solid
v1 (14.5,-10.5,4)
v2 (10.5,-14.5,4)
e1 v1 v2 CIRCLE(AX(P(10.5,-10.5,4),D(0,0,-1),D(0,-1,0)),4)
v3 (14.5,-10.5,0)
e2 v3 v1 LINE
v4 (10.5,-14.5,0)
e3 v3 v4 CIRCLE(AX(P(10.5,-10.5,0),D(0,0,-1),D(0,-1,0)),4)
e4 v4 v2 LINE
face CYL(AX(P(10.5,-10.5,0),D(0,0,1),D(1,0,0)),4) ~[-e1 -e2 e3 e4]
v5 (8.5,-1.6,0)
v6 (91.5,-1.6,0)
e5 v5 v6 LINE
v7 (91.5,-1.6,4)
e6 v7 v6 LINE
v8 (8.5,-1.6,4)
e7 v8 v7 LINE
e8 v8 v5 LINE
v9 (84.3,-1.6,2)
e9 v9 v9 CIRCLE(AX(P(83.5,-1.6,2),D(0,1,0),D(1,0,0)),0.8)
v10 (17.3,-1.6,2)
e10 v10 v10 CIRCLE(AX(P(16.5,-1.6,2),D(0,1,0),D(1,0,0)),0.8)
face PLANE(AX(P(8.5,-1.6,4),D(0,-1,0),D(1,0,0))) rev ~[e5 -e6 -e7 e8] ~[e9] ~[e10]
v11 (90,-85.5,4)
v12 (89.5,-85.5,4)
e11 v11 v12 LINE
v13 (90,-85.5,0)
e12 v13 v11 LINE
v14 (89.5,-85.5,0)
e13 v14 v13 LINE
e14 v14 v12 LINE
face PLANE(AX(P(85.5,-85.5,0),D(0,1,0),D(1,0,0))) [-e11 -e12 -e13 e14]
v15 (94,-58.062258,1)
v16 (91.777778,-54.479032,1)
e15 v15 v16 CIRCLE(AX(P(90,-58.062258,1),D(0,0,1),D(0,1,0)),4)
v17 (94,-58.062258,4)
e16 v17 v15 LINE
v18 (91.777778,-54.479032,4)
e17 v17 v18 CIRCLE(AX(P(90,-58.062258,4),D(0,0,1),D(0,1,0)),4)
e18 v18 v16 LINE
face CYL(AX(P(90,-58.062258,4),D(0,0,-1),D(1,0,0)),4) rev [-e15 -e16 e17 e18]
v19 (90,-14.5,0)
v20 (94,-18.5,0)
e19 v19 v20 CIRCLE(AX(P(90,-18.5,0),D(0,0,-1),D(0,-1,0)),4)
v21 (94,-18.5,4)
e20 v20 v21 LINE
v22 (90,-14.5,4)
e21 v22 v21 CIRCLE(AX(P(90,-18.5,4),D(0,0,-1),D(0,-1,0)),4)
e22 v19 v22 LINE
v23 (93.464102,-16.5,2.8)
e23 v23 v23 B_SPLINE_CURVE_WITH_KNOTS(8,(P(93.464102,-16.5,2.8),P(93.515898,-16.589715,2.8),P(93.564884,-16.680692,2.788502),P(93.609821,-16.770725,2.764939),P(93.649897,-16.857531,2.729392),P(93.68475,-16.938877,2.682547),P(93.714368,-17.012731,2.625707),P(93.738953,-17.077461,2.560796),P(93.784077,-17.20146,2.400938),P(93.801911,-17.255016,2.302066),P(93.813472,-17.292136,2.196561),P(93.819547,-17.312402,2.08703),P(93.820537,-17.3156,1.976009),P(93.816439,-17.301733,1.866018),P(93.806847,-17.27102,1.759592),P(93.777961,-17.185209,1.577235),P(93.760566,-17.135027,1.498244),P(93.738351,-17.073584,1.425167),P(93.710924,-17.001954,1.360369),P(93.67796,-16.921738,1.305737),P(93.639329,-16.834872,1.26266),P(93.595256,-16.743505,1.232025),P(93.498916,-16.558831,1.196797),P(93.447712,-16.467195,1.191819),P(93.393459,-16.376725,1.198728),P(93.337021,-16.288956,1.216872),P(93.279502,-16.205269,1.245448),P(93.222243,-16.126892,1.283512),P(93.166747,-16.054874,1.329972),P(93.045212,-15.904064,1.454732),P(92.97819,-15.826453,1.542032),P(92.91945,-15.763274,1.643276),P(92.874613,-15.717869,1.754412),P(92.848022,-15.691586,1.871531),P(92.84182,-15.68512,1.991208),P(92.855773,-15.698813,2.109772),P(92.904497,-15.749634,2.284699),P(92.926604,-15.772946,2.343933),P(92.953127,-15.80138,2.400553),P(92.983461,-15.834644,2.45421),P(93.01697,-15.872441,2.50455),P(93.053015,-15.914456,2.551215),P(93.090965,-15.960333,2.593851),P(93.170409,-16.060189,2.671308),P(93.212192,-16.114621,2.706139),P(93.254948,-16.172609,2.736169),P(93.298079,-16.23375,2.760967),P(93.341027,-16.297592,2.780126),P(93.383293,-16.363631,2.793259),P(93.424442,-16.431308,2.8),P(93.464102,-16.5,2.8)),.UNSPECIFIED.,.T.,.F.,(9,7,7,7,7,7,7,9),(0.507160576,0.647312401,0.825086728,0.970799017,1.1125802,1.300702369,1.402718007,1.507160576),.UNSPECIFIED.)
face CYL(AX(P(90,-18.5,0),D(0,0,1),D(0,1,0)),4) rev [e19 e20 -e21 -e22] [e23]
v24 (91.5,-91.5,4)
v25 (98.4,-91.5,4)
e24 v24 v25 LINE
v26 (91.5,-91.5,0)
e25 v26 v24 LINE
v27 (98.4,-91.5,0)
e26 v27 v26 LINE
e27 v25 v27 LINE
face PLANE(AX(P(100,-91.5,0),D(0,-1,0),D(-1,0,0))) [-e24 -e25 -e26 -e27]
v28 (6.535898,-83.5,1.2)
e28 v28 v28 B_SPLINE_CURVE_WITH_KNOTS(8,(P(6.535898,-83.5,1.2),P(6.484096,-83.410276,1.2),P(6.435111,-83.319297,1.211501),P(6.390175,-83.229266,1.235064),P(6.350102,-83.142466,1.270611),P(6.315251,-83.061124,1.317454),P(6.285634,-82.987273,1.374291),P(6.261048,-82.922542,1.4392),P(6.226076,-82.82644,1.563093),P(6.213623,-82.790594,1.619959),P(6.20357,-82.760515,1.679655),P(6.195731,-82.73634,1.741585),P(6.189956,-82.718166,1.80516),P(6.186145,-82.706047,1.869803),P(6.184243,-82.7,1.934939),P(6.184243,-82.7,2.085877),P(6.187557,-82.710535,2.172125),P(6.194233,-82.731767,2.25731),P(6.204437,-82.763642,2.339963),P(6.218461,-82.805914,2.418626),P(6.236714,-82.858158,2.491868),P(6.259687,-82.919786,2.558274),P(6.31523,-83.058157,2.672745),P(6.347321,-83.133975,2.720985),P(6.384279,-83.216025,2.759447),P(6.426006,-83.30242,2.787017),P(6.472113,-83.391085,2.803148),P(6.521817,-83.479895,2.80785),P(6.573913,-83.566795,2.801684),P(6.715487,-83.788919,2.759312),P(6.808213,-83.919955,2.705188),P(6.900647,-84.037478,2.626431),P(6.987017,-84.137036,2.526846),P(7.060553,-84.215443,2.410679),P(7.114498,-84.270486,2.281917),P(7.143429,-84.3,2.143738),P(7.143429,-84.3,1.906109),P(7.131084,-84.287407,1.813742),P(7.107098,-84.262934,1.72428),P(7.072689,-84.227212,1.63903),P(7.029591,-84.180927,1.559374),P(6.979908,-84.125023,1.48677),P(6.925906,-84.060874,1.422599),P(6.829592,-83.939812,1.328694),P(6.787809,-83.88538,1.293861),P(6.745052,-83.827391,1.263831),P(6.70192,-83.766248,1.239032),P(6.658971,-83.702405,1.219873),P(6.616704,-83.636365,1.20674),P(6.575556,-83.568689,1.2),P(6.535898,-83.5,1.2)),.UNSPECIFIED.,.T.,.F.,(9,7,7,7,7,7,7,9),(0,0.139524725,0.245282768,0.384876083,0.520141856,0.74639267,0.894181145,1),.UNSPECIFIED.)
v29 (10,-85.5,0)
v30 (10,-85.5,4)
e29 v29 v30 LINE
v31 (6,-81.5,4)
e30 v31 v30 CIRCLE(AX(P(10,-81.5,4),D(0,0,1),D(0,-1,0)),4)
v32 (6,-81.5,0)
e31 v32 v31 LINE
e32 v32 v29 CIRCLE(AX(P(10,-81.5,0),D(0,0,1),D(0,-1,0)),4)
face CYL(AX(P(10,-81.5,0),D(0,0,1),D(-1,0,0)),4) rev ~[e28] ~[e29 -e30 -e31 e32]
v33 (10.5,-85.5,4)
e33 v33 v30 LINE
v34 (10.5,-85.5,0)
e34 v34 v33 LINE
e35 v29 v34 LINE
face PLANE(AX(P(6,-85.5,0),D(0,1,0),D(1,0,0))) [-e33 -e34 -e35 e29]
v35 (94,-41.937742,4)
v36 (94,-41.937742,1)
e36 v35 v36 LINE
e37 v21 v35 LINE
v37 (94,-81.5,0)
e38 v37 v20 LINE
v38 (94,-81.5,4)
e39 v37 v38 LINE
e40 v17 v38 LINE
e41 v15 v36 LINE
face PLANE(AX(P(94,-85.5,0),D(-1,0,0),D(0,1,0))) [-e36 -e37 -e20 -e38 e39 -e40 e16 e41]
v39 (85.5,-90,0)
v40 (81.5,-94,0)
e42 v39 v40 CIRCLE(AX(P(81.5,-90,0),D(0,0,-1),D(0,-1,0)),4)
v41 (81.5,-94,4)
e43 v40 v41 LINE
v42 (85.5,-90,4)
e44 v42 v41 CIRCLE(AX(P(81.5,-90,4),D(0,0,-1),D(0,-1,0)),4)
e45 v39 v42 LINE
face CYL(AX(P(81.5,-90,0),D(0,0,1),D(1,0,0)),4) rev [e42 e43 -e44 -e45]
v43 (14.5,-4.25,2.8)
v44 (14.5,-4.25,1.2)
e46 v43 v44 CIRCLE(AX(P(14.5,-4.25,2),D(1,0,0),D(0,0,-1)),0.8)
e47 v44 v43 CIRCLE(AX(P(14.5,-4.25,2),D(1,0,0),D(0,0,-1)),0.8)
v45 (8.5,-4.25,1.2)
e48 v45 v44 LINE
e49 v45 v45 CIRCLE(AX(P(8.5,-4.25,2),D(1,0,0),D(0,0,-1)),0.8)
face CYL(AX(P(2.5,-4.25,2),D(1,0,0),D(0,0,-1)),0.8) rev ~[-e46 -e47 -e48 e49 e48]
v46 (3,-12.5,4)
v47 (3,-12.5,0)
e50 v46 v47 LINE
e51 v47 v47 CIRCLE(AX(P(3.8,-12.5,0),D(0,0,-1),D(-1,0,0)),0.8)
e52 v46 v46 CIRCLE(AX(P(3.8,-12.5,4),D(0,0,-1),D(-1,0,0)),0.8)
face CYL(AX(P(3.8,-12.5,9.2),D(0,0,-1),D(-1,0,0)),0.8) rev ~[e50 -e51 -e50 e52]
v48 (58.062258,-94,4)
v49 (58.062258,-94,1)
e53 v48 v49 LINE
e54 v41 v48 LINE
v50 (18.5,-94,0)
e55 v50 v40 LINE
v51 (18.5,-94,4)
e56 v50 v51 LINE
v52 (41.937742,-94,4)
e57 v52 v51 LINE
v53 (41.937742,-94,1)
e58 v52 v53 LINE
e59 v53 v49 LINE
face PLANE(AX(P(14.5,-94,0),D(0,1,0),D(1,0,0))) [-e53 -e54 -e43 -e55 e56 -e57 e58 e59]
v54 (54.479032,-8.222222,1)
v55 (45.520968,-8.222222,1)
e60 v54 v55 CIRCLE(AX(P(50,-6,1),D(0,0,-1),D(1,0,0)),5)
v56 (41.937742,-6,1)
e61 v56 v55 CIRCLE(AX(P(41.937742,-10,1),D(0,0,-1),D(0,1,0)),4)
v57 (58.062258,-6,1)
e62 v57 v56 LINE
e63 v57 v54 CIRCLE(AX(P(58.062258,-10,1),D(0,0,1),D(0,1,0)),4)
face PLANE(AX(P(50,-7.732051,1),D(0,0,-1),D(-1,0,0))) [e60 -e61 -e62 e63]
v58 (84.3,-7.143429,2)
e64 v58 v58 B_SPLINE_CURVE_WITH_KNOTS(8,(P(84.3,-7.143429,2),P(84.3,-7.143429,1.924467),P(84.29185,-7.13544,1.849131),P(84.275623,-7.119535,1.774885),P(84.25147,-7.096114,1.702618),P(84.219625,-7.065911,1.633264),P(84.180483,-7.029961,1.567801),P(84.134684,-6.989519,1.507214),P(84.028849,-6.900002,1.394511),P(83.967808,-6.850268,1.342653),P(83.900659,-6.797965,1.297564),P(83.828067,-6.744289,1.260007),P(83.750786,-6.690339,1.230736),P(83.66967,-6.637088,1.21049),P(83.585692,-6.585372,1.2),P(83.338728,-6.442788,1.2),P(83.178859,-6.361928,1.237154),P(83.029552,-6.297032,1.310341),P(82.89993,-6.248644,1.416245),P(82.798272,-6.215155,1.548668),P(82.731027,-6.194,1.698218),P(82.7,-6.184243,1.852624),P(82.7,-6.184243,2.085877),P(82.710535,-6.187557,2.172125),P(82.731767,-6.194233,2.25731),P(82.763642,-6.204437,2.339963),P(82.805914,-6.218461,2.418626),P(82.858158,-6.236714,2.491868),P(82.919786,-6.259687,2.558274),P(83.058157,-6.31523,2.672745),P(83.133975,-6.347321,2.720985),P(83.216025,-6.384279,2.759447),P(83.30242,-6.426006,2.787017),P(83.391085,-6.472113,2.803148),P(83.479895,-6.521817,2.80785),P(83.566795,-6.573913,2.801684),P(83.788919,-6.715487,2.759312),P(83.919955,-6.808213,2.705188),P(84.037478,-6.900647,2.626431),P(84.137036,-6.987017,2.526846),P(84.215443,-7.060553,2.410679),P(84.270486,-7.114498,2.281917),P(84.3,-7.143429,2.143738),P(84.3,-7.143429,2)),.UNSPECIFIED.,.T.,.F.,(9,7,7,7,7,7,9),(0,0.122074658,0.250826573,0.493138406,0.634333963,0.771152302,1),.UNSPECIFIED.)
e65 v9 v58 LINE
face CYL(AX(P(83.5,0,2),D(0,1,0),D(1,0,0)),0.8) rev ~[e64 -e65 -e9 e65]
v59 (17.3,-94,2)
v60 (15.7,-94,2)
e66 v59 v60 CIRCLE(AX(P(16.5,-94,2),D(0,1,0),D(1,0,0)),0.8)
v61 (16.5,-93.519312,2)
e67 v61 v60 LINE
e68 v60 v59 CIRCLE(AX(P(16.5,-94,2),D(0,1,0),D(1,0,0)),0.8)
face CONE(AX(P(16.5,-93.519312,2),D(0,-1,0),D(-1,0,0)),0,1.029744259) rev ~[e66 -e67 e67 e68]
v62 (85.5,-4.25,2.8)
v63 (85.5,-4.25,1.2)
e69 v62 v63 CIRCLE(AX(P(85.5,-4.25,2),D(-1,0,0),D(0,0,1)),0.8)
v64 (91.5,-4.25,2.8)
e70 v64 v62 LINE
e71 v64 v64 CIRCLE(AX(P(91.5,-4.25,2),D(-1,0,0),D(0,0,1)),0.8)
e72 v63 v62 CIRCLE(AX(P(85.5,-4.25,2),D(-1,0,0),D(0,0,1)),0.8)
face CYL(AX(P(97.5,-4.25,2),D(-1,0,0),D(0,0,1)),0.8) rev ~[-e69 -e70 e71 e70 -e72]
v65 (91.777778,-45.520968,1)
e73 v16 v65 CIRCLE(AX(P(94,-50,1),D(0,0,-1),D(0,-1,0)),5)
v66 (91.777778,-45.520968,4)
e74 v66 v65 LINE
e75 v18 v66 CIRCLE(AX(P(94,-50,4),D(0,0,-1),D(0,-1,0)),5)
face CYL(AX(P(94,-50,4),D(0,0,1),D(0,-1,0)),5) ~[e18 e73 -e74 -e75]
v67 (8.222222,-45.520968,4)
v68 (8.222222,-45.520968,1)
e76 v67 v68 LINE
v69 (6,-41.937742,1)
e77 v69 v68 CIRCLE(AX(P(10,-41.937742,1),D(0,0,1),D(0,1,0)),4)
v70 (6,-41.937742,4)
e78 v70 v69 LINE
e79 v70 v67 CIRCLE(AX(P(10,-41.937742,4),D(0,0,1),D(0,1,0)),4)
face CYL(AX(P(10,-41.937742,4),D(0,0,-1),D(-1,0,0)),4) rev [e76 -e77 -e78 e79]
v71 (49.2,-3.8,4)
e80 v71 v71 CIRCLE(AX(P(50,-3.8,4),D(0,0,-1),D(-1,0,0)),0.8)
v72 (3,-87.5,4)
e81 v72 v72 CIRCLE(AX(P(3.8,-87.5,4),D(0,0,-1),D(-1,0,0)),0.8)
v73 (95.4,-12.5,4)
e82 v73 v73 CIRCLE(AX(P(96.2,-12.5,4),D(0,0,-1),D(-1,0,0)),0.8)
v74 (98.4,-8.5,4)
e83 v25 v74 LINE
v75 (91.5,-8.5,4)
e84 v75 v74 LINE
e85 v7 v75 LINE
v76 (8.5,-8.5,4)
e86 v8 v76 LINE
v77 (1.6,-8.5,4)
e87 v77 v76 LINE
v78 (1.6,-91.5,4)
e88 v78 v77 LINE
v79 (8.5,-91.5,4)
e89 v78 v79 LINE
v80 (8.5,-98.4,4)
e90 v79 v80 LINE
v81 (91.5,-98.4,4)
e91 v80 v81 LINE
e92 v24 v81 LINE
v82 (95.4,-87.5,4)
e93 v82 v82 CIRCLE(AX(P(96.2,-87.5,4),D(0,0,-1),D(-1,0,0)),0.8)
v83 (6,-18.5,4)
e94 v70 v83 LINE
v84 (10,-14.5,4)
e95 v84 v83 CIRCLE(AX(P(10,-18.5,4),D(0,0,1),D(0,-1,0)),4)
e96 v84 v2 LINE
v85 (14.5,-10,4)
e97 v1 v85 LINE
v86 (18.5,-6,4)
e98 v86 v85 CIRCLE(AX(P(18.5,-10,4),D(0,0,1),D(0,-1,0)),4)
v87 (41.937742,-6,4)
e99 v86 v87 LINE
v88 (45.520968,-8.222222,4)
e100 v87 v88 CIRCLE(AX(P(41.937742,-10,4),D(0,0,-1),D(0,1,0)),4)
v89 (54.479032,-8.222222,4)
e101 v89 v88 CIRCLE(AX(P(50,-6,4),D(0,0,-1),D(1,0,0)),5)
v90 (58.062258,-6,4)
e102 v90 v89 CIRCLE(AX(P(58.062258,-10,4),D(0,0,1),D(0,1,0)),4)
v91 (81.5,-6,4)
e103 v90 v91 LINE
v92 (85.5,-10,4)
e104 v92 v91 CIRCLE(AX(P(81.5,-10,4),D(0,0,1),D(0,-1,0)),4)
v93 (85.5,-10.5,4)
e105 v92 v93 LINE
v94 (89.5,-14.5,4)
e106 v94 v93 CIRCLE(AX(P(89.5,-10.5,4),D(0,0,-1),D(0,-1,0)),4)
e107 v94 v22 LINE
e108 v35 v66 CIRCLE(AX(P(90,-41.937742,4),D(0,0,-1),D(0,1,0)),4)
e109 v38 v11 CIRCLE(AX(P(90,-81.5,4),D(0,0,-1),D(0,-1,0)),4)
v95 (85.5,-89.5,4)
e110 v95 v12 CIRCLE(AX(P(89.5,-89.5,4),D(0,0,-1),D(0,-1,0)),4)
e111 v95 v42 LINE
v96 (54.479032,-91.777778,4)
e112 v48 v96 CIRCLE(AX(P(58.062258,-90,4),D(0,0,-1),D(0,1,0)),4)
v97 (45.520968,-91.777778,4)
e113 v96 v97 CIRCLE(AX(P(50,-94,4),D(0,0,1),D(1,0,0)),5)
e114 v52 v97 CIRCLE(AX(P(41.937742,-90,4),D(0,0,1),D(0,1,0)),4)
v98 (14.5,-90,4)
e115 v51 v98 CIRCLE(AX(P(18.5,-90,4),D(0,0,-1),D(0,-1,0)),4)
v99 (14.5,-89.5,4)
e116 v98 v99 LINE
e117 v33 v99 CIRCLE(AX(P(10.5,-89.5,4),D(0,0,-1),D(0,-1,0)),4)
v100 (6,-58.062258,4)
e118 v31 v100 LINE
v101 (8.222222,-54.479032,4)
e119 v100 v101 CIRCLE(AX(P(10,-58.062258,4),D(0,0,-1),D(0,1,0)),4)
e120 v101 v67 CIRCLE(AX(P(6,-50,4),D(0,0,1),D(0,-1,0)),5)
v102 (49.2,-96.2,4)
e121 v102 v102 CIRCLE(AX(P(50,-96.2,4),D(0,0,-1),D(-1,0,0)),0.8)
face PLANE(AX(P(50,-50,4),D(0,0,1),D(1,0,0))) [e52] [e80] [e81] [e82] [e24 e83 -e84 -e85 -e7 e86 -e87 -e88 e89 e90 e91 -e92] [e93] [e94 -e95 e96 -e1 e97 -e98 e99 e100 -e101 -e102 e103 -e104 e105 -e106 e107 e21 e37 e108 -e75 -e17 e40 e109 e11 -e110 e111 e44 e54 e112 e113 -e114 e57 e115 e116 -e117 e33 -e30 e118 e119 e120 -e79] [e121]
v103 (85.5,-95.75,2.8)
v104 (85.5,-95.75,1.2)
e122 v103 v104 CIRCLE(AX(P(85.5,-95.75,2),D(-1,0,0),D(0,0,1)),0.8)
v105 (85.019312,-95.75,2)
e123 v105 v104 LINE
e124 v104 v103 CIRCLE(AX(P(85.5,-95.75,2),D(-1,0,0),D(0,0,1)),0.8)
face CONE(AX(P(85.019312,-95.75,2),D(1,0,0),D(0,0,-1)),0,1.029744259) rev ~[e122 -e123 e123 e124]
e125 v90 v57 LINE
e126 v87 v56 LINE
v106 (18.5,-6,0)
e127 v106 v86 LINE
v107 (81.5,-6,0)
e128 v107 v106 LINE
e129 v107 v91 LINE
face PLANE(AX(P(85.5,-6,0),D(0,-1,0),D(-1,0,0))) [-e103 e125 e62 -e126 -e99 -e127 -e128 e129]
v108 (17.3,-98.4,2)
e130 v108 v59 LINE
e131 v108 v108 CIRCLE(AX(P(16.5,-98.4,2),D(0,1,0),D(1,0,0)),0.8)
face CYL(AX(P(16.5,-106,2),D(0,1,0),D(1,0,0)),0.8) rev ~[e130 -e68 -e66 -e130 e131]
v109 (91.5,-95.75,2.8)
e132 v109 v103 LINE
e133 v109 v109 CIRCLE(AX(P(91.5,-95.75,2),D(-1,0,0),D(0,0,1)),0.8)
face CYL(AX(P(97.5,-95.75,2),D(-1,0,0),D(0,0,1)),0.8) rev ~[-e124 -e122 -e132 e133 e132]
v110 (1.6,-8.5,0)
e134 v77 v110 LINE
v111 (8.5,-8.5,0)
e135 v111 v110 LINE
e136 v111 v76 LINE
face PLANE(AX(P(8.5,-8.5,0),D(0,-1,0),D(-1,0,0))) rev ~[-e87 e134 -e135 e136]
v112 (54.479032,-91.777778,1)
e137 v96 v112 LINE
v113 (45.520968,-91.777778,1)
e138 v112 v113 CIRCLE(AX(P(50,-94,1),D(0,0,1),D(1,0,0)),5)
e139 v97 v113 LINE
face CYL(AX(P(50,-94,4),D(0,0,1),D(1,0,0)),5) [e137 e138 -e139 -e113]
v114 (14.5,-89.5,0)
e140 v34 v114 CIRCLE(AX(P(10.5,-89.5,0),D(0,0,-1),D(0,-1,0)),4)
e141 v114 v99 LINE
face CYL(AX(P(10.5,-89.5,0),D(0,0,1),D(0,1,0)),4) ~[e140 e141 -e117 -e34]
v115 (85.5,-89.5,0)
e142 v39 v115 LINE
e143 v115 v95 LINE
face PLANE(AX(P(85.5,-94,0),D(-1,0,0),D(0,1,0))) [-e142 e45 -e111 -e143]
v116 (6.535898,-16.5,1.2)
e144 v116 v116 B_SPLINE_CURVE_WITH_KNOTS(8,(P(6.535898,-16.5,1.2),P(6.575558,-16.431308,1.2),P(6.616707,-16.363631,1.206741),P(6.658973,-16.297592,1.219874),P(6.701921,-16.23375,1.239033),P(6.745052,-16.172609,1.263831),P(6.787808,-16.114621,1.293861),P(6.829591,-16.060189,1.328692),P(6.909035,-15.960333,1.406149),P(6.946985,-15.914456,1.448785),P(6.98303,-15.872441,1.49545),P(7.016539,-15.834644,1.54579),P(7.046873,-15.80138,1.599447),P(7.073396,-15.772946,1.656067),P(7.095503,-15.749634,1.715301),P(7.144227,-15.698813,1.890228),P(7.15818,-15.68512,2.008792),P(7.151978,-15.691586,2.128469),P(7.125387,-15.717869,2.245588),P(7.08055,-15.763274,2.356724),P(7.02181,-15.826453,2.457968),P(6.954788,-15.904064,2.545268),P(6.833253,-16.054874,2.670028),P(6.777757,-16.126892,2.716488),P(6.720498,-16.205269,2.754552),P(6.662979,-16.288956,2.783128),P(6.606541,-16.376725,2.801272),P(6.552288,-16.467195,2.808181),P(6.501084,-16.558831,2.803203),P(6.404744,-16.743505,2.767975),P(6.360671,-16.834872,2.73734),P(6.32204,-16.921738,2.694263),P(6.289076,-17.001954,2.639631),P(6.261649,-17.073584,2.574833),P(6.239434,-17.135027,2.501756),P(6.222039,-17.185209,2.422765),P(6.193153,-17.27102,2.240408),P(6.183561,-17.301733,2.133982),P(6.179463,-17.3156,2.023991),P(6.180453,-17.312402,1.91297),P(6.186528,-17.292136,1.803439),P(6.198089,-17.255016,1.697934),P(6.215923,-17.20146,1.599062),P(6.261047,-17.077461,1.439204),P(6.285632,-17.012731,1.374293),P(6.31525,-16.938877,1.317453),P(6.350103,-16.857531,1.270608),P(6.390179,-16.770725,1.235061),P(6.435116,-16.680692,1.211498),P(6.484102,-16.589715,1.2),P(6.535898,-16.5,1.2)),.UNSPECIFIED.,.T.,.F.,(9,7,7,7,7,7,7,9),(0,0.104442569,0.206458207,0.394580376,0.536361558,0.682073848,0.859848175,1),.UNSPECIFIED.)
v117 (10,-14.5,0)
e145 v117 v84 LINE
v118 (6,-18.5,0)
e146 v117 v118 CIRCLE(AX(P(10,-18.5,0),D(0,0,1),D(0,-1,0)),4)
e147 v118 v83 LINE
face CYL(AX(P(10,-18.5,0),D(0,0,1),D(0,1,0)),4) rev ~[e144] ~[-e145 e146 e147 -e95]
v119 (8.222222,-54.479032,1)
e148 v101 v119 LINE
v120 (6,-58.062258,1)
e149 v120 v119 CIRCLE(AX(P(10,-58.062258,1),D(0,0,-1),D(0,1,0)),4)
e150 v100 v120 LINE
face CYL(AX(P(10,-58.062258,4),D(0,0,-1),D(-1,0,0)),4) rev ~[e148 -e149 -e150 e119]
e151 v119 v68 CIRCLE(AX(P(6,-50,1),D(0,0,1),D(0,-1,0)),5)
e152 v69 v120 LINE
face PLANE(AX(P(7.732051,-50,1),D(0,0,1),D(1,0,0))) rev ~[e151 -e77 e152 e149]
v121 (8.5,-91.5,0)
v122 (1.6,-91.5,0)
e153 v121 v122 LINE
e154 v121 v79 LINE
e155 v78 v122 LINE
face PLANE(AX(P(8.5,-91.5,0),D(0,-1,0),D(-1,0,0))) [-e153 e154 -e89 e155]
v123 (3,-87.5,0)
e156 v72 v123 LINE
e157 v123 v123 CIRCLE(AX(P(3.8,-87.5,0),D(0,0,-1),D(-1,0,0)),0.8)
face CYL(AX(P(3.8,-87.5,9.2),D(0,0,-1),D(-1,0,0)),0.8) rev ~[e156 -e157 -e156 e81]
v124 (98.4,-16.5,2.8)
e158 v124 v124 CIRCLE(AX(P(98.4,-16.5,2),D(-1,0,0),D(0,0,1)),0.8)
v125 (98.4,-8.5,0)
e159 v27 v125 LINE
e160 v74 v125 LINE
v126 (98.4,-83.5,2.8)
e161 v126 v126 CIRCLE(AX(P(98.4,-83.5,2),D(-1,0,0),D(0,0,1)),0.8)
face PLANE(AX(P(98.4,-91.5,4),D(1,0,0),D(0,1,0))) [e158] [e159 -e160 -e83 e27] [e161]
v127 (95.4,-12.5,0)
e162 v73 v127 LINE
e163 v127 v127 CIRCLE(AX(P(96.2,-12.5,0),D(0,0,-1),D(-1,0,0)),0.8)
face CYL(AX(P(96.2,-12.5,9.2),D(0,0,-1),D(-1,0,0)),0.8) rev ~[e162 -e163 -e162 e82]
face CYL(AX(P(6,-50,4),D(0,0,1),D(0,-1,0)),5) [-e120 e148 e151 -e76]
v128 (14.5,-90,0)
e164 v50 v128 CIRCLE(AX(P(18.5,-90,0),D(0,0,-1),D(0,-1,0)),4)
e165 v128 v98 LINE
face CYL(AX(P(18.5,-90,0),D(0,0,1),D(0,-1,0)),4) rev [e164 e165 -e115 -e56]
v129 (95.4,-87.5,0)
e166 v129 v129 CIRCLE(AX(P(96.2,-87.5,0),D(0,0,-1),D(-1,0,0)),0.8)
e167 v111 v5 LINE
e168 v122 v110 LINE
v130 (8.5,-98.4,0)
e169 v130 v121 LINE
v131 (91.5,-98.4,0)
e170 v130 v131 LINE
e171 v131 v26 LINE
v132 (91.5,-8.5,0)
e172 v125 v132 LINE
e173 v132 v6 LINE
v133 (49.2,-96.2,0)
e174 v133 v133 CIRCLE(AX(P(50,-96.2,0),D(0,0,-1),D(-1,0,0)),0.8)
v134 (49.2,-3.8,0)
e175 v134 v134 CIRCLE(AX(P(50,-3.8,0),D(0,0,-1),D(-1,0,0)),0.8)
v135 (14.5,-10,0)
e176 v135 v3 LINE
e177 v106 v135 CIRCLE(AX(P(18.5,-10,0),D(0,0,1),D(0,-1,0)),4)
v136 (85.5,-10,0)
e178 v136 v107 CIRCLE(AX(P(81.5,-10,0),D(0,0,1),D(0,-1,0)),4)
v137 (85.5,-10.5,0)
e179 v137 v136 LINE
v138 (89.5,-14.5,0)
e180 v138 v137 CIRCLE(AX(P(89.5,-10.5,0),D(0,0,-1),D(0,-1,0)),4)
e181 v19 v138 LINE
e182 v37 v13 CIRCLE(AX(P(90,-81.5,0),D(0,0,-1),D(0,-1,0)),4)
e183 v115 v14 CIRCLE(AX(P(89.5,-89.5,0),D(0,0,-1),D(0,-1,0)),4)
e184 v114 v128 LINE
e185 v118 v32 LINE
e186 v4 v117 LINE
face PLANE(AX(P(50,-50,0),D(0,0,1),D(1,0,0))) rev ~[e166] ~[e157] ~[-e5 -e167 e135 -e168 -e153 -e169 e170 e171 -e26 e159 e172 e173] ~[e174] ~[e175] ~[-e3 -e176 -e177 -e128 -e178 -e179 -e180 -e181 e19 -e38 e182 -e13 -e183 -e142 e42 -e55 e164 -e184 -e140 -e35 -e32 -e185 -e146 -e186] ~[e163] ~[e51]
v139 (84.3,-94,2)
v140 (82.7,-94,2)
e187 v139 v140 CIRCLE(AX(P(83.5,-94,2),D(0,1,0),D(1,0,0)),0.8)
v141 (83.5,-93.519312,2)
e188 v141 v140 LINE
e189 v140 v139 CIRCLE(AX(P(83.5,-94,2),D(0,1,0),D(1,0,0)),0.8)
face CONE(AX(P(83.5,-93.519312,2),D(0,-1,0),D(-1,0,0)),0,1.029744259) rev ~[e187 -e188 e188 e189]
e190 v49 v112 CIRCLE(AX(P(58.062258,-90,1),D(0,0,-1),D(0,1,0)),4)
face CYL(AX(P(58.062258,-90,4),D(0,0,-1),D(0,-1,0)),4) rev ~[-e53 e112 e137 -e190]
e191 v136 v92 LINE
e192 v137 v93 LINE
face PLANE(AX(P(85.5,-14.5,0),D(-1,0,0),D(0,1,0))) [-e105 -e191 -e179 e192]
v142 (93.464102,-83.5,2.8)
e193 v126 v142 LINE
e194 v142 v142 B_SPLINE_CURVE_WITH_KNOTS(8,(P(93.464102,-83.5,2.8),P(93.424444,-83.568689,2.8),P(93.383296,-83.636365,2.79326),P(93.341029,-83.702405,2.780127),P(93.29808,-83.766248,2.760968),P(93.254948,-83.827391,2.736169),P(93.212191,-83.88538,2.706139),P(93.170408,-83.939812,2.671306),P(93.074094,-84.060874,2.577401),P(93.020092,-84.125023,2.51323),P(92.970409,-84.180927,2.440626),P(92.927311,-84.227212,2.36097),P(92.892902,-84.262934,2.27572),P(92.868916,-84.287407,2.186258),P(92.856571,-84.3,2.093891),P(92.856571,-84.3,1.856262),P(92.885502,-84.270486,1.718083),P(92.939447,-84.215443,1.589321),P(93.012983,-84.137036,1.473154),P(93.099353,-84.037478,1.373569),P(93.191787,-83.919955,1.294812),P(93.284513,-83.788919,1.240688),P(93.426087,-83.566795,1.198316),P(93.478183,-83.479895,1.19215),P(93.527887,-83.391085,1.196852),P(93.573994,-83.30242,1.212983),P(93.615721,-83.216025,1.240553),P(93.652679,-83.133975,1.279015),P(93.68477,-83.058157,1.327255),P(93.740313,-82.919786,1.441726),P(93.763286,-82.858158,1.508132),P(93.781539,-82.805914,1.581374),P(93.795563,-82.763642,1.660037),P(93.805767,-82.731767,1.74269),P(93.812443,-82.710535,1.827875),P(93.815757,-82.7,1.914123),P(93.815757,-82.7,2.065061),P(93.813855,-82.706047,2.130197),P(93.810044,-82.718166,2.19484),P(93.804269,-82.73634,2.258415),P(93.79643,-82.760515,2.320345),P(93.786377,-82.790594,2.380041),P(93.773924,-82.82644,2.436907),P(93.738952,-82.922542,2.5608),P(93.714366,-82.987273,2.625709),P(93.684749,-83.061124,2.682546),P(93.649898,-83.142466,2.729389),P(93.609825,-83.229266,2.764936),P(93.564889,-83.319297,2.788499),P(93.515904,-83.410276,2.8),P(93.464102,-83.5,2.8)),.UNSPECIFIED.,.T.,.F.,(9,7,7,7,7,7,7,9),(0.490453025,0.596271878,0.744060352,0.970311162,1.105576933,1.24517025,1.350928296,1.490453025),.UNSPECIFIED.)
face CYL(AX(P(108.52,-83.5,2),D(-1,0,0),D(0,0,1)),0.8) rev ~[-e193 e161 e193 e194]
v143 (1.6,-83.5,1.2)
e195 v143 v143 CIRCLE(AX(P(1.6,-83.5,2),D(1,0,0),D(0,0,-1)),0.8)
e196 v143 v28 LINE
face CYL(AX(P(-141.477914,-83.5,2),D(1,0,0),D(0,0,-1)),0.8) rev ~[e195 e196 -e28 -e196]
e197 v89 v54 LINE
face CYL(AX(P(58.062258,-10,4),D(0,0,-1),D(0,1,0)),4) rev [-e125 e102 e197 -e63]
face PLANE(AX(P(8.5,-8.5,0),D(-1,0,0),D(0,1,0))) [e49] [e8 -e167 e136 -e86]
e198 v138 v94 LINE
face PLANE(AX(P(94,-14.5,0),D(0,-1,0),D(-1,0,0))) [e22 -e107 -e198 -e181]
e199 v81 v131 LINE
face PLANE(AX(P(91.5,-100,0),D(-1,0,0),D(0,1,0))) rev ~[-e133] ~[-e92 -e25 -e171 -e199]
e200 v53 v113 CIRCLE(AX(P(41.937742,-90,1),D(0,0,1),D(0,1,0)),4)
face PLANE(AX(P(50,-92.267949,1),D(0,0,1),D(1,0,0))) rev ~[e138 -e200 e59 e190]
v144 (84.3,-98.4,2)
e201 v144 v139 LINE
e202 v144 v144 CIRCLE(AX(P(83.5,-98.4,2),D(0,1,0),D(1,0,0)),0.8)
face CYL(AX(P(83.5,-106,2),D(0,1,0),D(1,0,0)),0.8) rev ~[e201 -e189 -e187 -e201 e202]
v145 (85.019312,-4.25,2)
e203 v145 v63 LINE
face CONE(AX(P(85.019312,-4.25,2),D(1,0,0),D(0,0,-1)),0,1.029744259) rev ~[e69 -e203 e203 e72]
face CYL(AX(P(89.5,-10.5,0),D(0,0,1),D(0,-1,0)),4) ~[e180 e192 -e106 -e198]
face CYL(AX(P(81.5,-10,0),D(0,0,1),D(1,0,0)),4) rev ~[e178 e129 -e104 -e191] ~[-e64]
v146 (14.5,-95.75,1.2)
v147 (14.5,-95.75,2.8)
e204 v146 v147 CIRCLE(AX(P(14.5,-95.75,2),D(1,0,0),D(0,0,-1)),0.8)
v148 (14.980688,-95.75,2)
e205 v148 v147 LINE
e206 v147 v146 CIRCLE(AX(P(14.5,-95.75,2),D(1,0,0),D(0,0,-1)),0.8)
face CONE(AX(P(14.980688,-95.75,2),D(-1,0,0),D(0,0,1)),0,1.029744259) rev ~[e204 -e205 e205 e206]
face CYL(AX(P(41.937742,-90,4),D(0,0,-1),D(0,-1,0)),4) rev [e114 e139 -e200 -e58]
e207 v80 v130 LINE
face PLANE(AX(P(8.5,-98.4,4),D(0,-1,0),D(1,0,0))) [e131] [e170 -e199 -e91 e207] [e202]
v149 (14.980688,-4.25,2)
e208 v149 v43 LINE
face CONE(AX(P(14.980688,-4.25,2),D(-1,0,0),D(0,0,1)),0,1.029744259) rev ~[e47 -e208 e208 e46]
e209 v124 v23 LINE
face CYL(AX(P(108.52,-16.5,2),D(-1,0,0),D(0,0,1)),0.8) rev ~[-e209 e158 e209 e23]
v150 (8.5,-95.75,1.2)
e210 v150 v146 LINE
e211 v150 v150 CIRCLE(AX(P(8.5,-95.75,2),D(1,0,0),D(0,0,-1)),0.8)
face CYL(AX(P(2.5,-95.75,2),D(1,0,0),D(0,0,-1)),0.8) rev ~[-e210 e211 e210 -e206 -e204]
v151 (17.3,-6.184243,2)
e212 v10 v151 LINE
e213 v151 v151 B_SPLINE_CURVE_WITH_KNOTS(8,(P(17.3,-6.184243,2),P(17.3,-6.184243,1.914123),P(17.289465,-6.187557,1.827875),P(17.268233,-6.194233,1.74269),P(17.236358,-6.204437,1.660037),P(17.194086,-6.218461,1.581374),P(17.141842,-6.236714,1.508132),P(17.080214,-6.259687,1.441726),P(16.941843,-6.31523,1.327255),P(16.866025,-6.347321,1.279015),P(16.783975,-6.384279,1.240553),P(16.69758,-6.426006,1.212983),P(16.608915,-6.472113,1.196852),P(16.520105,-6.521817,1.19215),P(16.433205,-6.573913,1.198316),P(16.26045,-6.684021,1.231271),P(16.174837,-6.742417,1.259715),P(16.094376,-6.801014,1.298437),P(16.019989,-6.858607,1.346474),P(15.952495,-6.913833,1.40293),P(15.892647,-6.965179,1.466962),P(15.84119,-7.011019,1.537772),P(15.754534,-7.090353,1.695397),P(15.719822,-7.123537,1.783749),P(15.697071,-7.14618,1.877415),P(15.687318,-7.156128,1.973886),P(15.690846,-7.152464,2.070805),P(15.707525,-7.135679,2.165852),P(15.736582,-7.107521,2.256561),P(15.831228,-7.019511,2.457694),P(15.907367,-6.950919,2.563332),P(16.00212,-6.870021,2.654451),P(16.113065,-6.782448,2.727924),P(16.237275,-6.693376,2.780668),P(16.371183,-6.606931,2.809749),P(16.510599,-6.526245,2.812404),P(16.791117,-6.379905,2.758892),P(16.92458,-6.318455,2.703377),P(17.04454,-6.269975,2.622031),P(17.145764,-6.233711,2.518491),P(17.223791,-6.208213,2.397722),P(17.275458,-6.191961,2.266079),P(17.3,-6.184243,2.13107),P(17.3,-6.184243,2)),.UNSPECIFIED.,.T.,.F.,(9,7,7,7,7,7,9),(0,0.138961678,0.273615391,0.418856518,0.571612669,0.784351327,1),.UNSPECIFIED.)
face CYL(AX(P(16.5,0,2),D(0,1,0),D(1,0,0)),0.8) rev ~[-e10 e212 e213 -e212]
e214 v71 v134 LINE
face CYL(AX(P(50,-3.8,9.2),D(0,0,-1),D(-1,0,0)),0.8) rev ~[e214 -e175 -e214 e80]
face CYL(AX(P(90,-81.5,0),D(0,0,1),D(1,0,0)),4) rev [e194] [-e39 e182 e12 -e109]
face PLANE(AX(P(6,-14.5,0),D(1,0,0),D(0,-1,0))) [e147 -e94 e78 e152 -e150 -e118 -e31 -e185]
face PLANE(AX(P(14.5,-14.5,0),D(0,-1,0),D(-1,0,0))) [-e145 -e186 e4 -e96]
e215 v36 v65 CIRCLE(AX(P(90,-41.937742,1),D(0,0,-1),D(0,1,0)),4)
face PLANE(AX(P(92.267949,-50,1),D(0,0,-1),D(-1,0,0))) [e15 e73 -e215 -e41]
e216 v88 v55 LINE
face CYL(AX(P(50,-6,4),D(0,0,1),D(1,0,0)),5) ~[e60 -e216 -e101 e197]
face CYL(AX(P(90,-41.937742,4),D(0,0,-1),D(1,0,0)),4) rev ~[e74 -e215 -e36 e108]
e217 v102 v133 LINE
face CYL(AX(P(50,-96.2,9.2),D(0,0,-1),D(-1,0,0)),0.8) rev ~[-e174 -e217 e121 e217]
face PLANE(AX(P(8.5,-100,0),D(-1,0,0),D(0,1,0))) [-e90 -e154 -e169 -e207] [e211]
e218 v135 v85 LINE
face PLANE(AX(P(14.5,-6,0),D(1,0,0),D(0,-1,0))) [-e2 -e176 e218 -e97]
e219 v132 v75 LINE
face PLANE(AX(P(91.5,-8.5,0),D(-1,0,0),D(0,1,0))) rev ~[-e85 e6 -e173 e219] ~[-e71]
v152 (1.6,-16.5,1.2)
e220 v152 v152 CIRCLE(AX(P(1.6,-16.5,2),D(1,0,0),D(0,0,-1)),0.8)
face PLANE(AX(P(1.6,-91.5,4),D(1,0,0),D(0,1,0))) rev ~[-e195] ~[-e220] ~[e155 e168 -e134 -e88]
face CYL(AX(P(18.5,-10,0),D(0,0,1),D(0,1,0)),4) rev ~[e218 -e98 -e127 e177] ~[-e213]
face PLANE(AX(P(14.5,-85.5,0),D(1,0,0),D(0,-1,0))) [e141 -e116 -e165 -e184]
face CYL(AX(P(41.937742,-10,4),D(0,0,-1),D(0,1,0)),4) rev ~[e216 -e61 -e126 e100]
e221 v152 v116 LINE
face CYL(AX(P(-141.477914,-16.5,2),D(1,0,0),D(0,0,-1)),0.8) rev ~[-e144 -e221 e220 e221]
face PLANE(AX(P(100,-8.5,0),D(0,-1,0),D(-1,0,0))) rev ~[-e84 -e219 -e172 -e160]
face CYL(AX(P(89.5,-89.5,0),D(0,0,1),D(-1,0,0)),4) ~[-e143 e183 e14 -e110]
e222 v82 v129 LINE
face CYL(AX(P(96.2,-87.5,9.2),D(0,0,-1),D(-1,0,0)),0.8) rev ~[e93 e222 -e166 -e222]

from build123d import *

# Parameters (mm, degrees)
SKETCH3_W                  = 100
SKETCH3_H                  = 100
BOSS_EXTRUDE2_DEPTH        = 4
SKETCH4_W                  = 8.5
SKETCH4_H                  = 8.5
CUT_EXTRUDE1_DEPTH         = 142.477913471
CUT_EXTRUDE2_DEPTH         = 142.477913471
FILLET4_R                  = 4
FILLET6_R                  = 4
BOSS_EXTRUDE3_DEPTH        = 3
M2X0_4_TAPPED_HOLE1_D      = 1.6
M2X0_4_TAPPED_HOLE1_DEPTH  = 5.2
M2X0_4_TAPPED_HOLE1_TIP    = 0.480688495
M2X0_4_TAPPED_HOLE2_REACH  = 143.478
M2X0_4_TAPPED_HOLE2_BORE_R = 0.8
M2X0_4_TAPPED_HOLE3_D      = 1.6
M2X0_4_TAPPED_HOLE3_DEPTH  = 8.52
M2X0_4_TAPPED_HOLE3_TIP    = 0.480688495
M2X0_4_TAPPED_HOLE13_D     = 1.6
M2X0_4_TAPPED_HOLE5_D      = 1.6
M2X0_4_TAPPED_HOLE5_DEPTH  = 6
M2X0_4_TAPPED_HOLE5_TIP    = 0.480688495
FILLET7_R                  = 4
FILLET8_R                  = 4
M2X0_4_TAPPED_HOLE9_D      = 1.6
M2X0_4_TAPPED_HOLE9_DEPTH  = 6
M2X0_4_TAPPED_HOLE9_TIP    = 0.480688495
M2X0_4_TAPPED_HOLE10_D     = 1.6
M2X0_4_TAPPED_HOLE10_DEPTH = 6
M2X0_4_TAPPED_HOLE10_TIP   = 0.480688495
SKETCH33_W                 = 83
SKETCH33_H                 = 1.6
SKETCH33_W_2               = 1.6
SKETCH33_H_2               = 83
CUT_EXTRUDE3_DEPTH         = 10
M2X0_4_TAPPED_HOLE11_D     = 1.6
M2X0_4_TAPPED_HOLE11_DEPTH = 6
M2X0_4_TAPPED_HOLE11_TIP   = 0.480688495
M2X0_4_TAPPED_HOLE12_D     = 1.6
M2X0_4_TAPPED_HOLE12_DEPTH = 6
M2X0_4_TAPPED_HOLE12_TIP   = 0.480688495


with BuildPart() as part:
    # Sketch3 → Boss-Extrude2 (new body)
    with BuildSketch(Plane.XY):
        with Locations((50, -50)):
            Rectangle(SKETCH3_W, SKETCH3_H)
    extrude(amount=BOSS_EXTRUDE2_DEPTH)

    # Sketch4 → Cut-Extrude1 (cut, through all)
    with BuildSketch(Plane(origin=(0, 0, 0), x_dir=(-1, 0, 0), z_dir=(0, 0, -1))):
        with Locations((-4.25, -95.75)):
            Rectangle(SKETCH4_W, SKETCH4_H)
        with Locations((-4.25, -4.25)):
            Rectangle(SKETCH4_W, SKETCH4_H)
        with Locations((-95.75, -4.25)):
            Rectangle(SKETCH4_W, SKETCH4_H)
        with Locations((-95.75, -95.75)):
            Rectangle(SKETCH4_W, SKETCH4_H)
    extrude(amount=-CUT_EXTRUDE1_DEPTH, mode=Mode.SUBTRACT)

    # Sketch5 → Cut-Extrude2 (cut, through all)
    with BuildSketch(Plane(origin=(0, 0, 0), x_dir=(-1, 0, 0), z_dir=(0, 0, -1))):
        Polygon((-94, -14.5), (-85.5, -14.5), (-85.5, -6), (-14.5, -6), (-14.5, -14.5), (-6, -14.5), (-6, -85.5), (-14.5, -85.5), (-14.5, -94), (-85.5, -94), (-85.5, -85.5), (-94, -85.5), align=None)
    extrude(amount=-CUT_EXTRUDE2_DEPTH, mode=Mode.SUBTRACT)

    # Fillet4
    fillet4_edges = [part.edges().sort_by_distance(p)[0] for p in [
        (85.5, -14.5, 2),
        (14.5, -14.5, 2),
        (14.5, -85.5, 2),
        (85.5, -85.5, 2),
    ]]
    fillet(fillet4_edges, radius=FILLET4_R)

    # Fillet6
    fillet6_edges = [part.edges().sort_by_distance(p)[0] for p in [
        (94, -85.5, 2),
        (94, -14.5, 2),
        (85.5, -6, 2),
        (14.5, -6, 2),
        (6, -14.5, 2),
        (6, -85.5, 2),
        (14.5, -94, 2),
        (85.5, -94, 2),
    ]]
    fillet(fillet6_edges, radius=FILLET6_R)

    # Sketch6 → Boss-Extrude3 (add)
    with BuildSketch(Plane.XY.offset(4)):
        with BuildLine():
            Line((6, -45), (6, -55))
            ThreePointArc((6, -55), (11, -50), (6, -45))
        make_face()
        with BuildLine():
            Line((94, -45), (94, -55))
            ThreePointArc((94, -55), (89, -50), (94, -45))
        make_face()
        with BuildLine():
            Line((45, -6), (55, -6))
            ThreePointArc((55, -6), (50, -11), (45, -6))
        make_face()
        with BuildLine():
            Line((45, -94), (55, -94))
            ThreePointArc((55, -94), (50, -89), (45, -94))
        make_face()
    extrude(amount=-BOSS_EXTRUDE3_DEPTH)

    # M2x0.4 Tapped Hole1
    with Locations(Plane.XY.offset(4)):
        with Locations((50, -3.8), (3.8, -12.5), (50, -96.2), (96.2, -87.5), (3.8, -87.5), (96.2, -12.5)):
            Hole(M2X0_4_TAPPED_HOLE1_D / 2, depth=M2X0_4_TAPPED_HOLE1_DEPTH)
            with Locations((0, 0, -(M2X0_4_TAPPED_HOLE1_DEPTH + M2X0_4_TAPPED_HOLE1_TIP / 2))):  # 118° drill point
                Cone(0, M2X0_4_TAPPED_HOLE1_D / 2, M2X0_4_TAPPED_HOLE1_TIP, mode=Mode.SUBTRACT)

    # M2x0.4 Tapped Hole2 bore → M2x0.4 Tapped Hole2 (cut, up to next)
    with BuildSketch(Plane(origin=(0, 0, 0), x_dir=(1, 0, 0), z_dir=(0, 1, 0)), mode=Mode.PRIVATE) as m2x0_4_tapped_hole2_sk1:
        with Locations((83.5, -2)):
            Circle(M2X0_4_TAPPED_HOLE2_BORE_R)
    m2x0_4_tapped_hole2_tool1 = extrude(m2x0_4_tapped_hole2_sk1.sketch, amount=-M2X0_4_TAPPED_HOLE2_REACH, mode=Mode.PRIVATE) & part.part
    # M2x0.4 Tapped Hole2 bore → M2x0.4 Tapped Hole2 (cut, up to next)
    with BuildSketch(Plane(origin=(0, 0, 0), x_dir=(1, 0, 0), z_dir=(0, 1, 0)), mode=Mode.PRIVATE) as m2x0_4_tapped_hole2_sk2:
        with Locations((16.5, -2)):
            Circle(M2X0_4_TAPPED_HOLE2_BORE_R)
    m2x0_4_tapped_hole2_tool2 = extrude(m2x0_4_tapped_hole2_sk2.sketch, amount=-M2X0_4_TAPPED_HOLE2_REACH, mode=Mode.PRIVATE) & part.part
    add(m2x0_4_tapped_hole2_tool1.solids().sort_by_distance((83.5, 0, 2))[0], mode=Mode.SUBTRACT)
    add(m2x0_4_tapped_hole2_tool2.solids().sort_by_distance((16.5, 0, 2))[0], mode=Mode.SUBTRACT)

    # M2x0.4 Tapped Hole3
    with Locations(Plane(origin=(100, 0, 0), x_dir=(0, 0, -1), z_dir=(1, 0, 0))):
        with Locations((-2, -83.5), (-2, -16.5)):
            Hole(M2X0_4_TAPPED_HOLE3_D / 2, depth=M2X0_4_TAPPED_HOLE3_DEPTH)
            with Locations((0, 0, -(M2X0_4_TAPPED_HOLE3_DEPTH + M2X0_4_TAPPED_HOLE3_TIP / 2))):  # 118° drill point
                Cone(0, M2X0_4_TAPPED_HOLE3_D / 2, M2X0_4_TAPPED_HOLE3_TIP, mode=Mode.SUBTRACT)

    # M2x0.4 Tapped Hole13 (through all)
    with Locations(Plane.ZY):
        with Locations((2, -83.5), (2, -16.5)):
            Hole(M2X0_4_TAPPED_HOLE13_D / 2)

    # M2x0.4 Tapped Hole5
    with Locations(Plane(origin=(0, -100, 0), x_dir=(-1, 0, 0), z_dir=(0, -1, 0))):
        with Locations((-16.5, -2), (-83.5, -2)):
            Hole(M2X0_4_TAPPED_HOLE5_D / 2, depth=M2X0_4_TAPPED_HOLE5_DEPTH)
            with Locations((0, 0, -(M2X0_4_TAPPED_HOLE5_DEPTH + M2X0_4_TAPPED_HOLE5_TIP / 2))):  # 118° drill point
                Cone(0, M2X0_4_TAPPED_HOLE5_D / 2, M2X0_4_TAPPED_HOLE5_TIP, mode=Mode.SUBTRACT)

    # Fillet7
    fillet7_edges = [part.edges().sort_by_distance(p)[0] for p in [
        (6, -45, 2.5),
    ]]
    fillet(fillet7_edges, radius=FILLET7_R)

    # Fillet8
    fillet8_edges = [part.edges().sort_by_distance(p)[0] for p in [
        (6, -55, 2.5),
        (94, -55, 2.5),
        (94, -45, 2.5),
        (55, -6, 2.5),
        (45, -6, 2.5),
        (45, -94, 2.5),
        (55, -94, 2.5),
    ]]
    fillet(fillet8_edges, radius=FILLET8_R)

    # M2x0.4 Tapped Hole9
    with Locations(Plane.ZY.offset(-8.5)):
        with Locations((2, -95.75)):
            Hole(M2X0_4_TAPPED_HOLE9_D / 2, depth=M2X0_4_TAPPED_HOLE9_DEPTH)
            with Locations((0, 0, -(M2X0_4_TAPPED_HOLE9_DEPTH + M2X0_4_TAPPED_HOLE9_TIP / 2))):  # 118° drill point
                Cone(0, M2X0_4_TAPPED_HOLE9_D / 2, M2X0_4_TAPPED_HOLE9_TIP, mode=Mode.SUBTRACT)

    # M2x0.4 Tapped Hole10
    with Locations(Plane.ZY.offset(-8.5)):
        with Locations((2, -4.25)):
            Hole(M2X0_4_TAPPED_HOLE10_D / 2, depth=M2X0_4_TAPPED_HOLE10_DEPTH)
            with Locations((0, 0, -(M2X0_4_TAPPED_HOLE10_DEPTH + M2X0_4_TAPPED_HOLE10_TIP / 2))):  # 118° drill point
                Cone(0, M2X0_4_TAPPED_HOLE10_D / 2, M2X0_4_TAPPED_HOLE10_TIP, mode=Mode.SUBTRACT)

    # Sketch33 → Cut-Extrude3 (cut)
    with BuildSketch(Plane.XY.offset(4)):
        with Locations((50, -99.2)):
            Rectangle(SKETCH33_W, SKETCH33_H)
        with Locations((99.2, -50)):
            Rectangle(SKETCH33_W_2, SKETCH33_H_2)
        with Locations((50, -0.8)):
            Rectangle(SKETCH33_W, SKETCH33_H)
        with Locations((0.8, -50)):
            Rectangle(SKETCH33_W_2, SKETCH33_H_2)
    extrude(amount=-CUT_EXTRUDE3_DEPTH, mode=Mode.SUBTRACT)

    # M2x0.4 Tapped Hole11
    with Locations(Plane(origin=(91.5, 0, 0), x_dir=(0, 0, -1), z_dir=(1, 0, 0))):
        with Locations((-2, -95.75)):
            Hole(M2X0_4_TAPPED_HOLE11_D / 2, depth=M2X0_4_TAPPED_HOLE11_DEPTH)
            with Locations((0, 0, -(M2X0_4_TAPPED_HOLE11_DEPTH + M2X0_4_TAPPED_HOLE11_TIP / 2))):  # 118° drill point
                Cone(0, M2X0_4_TAPPED_HOLE11_D / 2, M2X0_4_TAPPED_HOLE11_TIP, mode=Mode.SUBTRACT)

    # M2x0.4 Tapped Hole12
    with Locations(Plane(origin=(91.5, 0, 0), x_dir=(0, 0, -1), z_dir=(1, 0, 0))):
        with Locations((-2, -4.25)):
            Hole(M2X0_4_TAPPED_HOLE12_D / 2, depth=M2X0_4_TAPPED_HOLE12_DEPTH)
            with Locations((0, 0, -(M2X0_4_TAPPED_HOLE12_DEPTH + M2X0_4_TAPPED_HOLE12_TIP / 2))):  # 118° drill point
                Cone(0, M2X0_4_TAPPED_HOLE12_D / 2, M2X0_4_TAPPED_HOLE12_TIP, mode=Mode.SUBTRACT)


solid = part.part
